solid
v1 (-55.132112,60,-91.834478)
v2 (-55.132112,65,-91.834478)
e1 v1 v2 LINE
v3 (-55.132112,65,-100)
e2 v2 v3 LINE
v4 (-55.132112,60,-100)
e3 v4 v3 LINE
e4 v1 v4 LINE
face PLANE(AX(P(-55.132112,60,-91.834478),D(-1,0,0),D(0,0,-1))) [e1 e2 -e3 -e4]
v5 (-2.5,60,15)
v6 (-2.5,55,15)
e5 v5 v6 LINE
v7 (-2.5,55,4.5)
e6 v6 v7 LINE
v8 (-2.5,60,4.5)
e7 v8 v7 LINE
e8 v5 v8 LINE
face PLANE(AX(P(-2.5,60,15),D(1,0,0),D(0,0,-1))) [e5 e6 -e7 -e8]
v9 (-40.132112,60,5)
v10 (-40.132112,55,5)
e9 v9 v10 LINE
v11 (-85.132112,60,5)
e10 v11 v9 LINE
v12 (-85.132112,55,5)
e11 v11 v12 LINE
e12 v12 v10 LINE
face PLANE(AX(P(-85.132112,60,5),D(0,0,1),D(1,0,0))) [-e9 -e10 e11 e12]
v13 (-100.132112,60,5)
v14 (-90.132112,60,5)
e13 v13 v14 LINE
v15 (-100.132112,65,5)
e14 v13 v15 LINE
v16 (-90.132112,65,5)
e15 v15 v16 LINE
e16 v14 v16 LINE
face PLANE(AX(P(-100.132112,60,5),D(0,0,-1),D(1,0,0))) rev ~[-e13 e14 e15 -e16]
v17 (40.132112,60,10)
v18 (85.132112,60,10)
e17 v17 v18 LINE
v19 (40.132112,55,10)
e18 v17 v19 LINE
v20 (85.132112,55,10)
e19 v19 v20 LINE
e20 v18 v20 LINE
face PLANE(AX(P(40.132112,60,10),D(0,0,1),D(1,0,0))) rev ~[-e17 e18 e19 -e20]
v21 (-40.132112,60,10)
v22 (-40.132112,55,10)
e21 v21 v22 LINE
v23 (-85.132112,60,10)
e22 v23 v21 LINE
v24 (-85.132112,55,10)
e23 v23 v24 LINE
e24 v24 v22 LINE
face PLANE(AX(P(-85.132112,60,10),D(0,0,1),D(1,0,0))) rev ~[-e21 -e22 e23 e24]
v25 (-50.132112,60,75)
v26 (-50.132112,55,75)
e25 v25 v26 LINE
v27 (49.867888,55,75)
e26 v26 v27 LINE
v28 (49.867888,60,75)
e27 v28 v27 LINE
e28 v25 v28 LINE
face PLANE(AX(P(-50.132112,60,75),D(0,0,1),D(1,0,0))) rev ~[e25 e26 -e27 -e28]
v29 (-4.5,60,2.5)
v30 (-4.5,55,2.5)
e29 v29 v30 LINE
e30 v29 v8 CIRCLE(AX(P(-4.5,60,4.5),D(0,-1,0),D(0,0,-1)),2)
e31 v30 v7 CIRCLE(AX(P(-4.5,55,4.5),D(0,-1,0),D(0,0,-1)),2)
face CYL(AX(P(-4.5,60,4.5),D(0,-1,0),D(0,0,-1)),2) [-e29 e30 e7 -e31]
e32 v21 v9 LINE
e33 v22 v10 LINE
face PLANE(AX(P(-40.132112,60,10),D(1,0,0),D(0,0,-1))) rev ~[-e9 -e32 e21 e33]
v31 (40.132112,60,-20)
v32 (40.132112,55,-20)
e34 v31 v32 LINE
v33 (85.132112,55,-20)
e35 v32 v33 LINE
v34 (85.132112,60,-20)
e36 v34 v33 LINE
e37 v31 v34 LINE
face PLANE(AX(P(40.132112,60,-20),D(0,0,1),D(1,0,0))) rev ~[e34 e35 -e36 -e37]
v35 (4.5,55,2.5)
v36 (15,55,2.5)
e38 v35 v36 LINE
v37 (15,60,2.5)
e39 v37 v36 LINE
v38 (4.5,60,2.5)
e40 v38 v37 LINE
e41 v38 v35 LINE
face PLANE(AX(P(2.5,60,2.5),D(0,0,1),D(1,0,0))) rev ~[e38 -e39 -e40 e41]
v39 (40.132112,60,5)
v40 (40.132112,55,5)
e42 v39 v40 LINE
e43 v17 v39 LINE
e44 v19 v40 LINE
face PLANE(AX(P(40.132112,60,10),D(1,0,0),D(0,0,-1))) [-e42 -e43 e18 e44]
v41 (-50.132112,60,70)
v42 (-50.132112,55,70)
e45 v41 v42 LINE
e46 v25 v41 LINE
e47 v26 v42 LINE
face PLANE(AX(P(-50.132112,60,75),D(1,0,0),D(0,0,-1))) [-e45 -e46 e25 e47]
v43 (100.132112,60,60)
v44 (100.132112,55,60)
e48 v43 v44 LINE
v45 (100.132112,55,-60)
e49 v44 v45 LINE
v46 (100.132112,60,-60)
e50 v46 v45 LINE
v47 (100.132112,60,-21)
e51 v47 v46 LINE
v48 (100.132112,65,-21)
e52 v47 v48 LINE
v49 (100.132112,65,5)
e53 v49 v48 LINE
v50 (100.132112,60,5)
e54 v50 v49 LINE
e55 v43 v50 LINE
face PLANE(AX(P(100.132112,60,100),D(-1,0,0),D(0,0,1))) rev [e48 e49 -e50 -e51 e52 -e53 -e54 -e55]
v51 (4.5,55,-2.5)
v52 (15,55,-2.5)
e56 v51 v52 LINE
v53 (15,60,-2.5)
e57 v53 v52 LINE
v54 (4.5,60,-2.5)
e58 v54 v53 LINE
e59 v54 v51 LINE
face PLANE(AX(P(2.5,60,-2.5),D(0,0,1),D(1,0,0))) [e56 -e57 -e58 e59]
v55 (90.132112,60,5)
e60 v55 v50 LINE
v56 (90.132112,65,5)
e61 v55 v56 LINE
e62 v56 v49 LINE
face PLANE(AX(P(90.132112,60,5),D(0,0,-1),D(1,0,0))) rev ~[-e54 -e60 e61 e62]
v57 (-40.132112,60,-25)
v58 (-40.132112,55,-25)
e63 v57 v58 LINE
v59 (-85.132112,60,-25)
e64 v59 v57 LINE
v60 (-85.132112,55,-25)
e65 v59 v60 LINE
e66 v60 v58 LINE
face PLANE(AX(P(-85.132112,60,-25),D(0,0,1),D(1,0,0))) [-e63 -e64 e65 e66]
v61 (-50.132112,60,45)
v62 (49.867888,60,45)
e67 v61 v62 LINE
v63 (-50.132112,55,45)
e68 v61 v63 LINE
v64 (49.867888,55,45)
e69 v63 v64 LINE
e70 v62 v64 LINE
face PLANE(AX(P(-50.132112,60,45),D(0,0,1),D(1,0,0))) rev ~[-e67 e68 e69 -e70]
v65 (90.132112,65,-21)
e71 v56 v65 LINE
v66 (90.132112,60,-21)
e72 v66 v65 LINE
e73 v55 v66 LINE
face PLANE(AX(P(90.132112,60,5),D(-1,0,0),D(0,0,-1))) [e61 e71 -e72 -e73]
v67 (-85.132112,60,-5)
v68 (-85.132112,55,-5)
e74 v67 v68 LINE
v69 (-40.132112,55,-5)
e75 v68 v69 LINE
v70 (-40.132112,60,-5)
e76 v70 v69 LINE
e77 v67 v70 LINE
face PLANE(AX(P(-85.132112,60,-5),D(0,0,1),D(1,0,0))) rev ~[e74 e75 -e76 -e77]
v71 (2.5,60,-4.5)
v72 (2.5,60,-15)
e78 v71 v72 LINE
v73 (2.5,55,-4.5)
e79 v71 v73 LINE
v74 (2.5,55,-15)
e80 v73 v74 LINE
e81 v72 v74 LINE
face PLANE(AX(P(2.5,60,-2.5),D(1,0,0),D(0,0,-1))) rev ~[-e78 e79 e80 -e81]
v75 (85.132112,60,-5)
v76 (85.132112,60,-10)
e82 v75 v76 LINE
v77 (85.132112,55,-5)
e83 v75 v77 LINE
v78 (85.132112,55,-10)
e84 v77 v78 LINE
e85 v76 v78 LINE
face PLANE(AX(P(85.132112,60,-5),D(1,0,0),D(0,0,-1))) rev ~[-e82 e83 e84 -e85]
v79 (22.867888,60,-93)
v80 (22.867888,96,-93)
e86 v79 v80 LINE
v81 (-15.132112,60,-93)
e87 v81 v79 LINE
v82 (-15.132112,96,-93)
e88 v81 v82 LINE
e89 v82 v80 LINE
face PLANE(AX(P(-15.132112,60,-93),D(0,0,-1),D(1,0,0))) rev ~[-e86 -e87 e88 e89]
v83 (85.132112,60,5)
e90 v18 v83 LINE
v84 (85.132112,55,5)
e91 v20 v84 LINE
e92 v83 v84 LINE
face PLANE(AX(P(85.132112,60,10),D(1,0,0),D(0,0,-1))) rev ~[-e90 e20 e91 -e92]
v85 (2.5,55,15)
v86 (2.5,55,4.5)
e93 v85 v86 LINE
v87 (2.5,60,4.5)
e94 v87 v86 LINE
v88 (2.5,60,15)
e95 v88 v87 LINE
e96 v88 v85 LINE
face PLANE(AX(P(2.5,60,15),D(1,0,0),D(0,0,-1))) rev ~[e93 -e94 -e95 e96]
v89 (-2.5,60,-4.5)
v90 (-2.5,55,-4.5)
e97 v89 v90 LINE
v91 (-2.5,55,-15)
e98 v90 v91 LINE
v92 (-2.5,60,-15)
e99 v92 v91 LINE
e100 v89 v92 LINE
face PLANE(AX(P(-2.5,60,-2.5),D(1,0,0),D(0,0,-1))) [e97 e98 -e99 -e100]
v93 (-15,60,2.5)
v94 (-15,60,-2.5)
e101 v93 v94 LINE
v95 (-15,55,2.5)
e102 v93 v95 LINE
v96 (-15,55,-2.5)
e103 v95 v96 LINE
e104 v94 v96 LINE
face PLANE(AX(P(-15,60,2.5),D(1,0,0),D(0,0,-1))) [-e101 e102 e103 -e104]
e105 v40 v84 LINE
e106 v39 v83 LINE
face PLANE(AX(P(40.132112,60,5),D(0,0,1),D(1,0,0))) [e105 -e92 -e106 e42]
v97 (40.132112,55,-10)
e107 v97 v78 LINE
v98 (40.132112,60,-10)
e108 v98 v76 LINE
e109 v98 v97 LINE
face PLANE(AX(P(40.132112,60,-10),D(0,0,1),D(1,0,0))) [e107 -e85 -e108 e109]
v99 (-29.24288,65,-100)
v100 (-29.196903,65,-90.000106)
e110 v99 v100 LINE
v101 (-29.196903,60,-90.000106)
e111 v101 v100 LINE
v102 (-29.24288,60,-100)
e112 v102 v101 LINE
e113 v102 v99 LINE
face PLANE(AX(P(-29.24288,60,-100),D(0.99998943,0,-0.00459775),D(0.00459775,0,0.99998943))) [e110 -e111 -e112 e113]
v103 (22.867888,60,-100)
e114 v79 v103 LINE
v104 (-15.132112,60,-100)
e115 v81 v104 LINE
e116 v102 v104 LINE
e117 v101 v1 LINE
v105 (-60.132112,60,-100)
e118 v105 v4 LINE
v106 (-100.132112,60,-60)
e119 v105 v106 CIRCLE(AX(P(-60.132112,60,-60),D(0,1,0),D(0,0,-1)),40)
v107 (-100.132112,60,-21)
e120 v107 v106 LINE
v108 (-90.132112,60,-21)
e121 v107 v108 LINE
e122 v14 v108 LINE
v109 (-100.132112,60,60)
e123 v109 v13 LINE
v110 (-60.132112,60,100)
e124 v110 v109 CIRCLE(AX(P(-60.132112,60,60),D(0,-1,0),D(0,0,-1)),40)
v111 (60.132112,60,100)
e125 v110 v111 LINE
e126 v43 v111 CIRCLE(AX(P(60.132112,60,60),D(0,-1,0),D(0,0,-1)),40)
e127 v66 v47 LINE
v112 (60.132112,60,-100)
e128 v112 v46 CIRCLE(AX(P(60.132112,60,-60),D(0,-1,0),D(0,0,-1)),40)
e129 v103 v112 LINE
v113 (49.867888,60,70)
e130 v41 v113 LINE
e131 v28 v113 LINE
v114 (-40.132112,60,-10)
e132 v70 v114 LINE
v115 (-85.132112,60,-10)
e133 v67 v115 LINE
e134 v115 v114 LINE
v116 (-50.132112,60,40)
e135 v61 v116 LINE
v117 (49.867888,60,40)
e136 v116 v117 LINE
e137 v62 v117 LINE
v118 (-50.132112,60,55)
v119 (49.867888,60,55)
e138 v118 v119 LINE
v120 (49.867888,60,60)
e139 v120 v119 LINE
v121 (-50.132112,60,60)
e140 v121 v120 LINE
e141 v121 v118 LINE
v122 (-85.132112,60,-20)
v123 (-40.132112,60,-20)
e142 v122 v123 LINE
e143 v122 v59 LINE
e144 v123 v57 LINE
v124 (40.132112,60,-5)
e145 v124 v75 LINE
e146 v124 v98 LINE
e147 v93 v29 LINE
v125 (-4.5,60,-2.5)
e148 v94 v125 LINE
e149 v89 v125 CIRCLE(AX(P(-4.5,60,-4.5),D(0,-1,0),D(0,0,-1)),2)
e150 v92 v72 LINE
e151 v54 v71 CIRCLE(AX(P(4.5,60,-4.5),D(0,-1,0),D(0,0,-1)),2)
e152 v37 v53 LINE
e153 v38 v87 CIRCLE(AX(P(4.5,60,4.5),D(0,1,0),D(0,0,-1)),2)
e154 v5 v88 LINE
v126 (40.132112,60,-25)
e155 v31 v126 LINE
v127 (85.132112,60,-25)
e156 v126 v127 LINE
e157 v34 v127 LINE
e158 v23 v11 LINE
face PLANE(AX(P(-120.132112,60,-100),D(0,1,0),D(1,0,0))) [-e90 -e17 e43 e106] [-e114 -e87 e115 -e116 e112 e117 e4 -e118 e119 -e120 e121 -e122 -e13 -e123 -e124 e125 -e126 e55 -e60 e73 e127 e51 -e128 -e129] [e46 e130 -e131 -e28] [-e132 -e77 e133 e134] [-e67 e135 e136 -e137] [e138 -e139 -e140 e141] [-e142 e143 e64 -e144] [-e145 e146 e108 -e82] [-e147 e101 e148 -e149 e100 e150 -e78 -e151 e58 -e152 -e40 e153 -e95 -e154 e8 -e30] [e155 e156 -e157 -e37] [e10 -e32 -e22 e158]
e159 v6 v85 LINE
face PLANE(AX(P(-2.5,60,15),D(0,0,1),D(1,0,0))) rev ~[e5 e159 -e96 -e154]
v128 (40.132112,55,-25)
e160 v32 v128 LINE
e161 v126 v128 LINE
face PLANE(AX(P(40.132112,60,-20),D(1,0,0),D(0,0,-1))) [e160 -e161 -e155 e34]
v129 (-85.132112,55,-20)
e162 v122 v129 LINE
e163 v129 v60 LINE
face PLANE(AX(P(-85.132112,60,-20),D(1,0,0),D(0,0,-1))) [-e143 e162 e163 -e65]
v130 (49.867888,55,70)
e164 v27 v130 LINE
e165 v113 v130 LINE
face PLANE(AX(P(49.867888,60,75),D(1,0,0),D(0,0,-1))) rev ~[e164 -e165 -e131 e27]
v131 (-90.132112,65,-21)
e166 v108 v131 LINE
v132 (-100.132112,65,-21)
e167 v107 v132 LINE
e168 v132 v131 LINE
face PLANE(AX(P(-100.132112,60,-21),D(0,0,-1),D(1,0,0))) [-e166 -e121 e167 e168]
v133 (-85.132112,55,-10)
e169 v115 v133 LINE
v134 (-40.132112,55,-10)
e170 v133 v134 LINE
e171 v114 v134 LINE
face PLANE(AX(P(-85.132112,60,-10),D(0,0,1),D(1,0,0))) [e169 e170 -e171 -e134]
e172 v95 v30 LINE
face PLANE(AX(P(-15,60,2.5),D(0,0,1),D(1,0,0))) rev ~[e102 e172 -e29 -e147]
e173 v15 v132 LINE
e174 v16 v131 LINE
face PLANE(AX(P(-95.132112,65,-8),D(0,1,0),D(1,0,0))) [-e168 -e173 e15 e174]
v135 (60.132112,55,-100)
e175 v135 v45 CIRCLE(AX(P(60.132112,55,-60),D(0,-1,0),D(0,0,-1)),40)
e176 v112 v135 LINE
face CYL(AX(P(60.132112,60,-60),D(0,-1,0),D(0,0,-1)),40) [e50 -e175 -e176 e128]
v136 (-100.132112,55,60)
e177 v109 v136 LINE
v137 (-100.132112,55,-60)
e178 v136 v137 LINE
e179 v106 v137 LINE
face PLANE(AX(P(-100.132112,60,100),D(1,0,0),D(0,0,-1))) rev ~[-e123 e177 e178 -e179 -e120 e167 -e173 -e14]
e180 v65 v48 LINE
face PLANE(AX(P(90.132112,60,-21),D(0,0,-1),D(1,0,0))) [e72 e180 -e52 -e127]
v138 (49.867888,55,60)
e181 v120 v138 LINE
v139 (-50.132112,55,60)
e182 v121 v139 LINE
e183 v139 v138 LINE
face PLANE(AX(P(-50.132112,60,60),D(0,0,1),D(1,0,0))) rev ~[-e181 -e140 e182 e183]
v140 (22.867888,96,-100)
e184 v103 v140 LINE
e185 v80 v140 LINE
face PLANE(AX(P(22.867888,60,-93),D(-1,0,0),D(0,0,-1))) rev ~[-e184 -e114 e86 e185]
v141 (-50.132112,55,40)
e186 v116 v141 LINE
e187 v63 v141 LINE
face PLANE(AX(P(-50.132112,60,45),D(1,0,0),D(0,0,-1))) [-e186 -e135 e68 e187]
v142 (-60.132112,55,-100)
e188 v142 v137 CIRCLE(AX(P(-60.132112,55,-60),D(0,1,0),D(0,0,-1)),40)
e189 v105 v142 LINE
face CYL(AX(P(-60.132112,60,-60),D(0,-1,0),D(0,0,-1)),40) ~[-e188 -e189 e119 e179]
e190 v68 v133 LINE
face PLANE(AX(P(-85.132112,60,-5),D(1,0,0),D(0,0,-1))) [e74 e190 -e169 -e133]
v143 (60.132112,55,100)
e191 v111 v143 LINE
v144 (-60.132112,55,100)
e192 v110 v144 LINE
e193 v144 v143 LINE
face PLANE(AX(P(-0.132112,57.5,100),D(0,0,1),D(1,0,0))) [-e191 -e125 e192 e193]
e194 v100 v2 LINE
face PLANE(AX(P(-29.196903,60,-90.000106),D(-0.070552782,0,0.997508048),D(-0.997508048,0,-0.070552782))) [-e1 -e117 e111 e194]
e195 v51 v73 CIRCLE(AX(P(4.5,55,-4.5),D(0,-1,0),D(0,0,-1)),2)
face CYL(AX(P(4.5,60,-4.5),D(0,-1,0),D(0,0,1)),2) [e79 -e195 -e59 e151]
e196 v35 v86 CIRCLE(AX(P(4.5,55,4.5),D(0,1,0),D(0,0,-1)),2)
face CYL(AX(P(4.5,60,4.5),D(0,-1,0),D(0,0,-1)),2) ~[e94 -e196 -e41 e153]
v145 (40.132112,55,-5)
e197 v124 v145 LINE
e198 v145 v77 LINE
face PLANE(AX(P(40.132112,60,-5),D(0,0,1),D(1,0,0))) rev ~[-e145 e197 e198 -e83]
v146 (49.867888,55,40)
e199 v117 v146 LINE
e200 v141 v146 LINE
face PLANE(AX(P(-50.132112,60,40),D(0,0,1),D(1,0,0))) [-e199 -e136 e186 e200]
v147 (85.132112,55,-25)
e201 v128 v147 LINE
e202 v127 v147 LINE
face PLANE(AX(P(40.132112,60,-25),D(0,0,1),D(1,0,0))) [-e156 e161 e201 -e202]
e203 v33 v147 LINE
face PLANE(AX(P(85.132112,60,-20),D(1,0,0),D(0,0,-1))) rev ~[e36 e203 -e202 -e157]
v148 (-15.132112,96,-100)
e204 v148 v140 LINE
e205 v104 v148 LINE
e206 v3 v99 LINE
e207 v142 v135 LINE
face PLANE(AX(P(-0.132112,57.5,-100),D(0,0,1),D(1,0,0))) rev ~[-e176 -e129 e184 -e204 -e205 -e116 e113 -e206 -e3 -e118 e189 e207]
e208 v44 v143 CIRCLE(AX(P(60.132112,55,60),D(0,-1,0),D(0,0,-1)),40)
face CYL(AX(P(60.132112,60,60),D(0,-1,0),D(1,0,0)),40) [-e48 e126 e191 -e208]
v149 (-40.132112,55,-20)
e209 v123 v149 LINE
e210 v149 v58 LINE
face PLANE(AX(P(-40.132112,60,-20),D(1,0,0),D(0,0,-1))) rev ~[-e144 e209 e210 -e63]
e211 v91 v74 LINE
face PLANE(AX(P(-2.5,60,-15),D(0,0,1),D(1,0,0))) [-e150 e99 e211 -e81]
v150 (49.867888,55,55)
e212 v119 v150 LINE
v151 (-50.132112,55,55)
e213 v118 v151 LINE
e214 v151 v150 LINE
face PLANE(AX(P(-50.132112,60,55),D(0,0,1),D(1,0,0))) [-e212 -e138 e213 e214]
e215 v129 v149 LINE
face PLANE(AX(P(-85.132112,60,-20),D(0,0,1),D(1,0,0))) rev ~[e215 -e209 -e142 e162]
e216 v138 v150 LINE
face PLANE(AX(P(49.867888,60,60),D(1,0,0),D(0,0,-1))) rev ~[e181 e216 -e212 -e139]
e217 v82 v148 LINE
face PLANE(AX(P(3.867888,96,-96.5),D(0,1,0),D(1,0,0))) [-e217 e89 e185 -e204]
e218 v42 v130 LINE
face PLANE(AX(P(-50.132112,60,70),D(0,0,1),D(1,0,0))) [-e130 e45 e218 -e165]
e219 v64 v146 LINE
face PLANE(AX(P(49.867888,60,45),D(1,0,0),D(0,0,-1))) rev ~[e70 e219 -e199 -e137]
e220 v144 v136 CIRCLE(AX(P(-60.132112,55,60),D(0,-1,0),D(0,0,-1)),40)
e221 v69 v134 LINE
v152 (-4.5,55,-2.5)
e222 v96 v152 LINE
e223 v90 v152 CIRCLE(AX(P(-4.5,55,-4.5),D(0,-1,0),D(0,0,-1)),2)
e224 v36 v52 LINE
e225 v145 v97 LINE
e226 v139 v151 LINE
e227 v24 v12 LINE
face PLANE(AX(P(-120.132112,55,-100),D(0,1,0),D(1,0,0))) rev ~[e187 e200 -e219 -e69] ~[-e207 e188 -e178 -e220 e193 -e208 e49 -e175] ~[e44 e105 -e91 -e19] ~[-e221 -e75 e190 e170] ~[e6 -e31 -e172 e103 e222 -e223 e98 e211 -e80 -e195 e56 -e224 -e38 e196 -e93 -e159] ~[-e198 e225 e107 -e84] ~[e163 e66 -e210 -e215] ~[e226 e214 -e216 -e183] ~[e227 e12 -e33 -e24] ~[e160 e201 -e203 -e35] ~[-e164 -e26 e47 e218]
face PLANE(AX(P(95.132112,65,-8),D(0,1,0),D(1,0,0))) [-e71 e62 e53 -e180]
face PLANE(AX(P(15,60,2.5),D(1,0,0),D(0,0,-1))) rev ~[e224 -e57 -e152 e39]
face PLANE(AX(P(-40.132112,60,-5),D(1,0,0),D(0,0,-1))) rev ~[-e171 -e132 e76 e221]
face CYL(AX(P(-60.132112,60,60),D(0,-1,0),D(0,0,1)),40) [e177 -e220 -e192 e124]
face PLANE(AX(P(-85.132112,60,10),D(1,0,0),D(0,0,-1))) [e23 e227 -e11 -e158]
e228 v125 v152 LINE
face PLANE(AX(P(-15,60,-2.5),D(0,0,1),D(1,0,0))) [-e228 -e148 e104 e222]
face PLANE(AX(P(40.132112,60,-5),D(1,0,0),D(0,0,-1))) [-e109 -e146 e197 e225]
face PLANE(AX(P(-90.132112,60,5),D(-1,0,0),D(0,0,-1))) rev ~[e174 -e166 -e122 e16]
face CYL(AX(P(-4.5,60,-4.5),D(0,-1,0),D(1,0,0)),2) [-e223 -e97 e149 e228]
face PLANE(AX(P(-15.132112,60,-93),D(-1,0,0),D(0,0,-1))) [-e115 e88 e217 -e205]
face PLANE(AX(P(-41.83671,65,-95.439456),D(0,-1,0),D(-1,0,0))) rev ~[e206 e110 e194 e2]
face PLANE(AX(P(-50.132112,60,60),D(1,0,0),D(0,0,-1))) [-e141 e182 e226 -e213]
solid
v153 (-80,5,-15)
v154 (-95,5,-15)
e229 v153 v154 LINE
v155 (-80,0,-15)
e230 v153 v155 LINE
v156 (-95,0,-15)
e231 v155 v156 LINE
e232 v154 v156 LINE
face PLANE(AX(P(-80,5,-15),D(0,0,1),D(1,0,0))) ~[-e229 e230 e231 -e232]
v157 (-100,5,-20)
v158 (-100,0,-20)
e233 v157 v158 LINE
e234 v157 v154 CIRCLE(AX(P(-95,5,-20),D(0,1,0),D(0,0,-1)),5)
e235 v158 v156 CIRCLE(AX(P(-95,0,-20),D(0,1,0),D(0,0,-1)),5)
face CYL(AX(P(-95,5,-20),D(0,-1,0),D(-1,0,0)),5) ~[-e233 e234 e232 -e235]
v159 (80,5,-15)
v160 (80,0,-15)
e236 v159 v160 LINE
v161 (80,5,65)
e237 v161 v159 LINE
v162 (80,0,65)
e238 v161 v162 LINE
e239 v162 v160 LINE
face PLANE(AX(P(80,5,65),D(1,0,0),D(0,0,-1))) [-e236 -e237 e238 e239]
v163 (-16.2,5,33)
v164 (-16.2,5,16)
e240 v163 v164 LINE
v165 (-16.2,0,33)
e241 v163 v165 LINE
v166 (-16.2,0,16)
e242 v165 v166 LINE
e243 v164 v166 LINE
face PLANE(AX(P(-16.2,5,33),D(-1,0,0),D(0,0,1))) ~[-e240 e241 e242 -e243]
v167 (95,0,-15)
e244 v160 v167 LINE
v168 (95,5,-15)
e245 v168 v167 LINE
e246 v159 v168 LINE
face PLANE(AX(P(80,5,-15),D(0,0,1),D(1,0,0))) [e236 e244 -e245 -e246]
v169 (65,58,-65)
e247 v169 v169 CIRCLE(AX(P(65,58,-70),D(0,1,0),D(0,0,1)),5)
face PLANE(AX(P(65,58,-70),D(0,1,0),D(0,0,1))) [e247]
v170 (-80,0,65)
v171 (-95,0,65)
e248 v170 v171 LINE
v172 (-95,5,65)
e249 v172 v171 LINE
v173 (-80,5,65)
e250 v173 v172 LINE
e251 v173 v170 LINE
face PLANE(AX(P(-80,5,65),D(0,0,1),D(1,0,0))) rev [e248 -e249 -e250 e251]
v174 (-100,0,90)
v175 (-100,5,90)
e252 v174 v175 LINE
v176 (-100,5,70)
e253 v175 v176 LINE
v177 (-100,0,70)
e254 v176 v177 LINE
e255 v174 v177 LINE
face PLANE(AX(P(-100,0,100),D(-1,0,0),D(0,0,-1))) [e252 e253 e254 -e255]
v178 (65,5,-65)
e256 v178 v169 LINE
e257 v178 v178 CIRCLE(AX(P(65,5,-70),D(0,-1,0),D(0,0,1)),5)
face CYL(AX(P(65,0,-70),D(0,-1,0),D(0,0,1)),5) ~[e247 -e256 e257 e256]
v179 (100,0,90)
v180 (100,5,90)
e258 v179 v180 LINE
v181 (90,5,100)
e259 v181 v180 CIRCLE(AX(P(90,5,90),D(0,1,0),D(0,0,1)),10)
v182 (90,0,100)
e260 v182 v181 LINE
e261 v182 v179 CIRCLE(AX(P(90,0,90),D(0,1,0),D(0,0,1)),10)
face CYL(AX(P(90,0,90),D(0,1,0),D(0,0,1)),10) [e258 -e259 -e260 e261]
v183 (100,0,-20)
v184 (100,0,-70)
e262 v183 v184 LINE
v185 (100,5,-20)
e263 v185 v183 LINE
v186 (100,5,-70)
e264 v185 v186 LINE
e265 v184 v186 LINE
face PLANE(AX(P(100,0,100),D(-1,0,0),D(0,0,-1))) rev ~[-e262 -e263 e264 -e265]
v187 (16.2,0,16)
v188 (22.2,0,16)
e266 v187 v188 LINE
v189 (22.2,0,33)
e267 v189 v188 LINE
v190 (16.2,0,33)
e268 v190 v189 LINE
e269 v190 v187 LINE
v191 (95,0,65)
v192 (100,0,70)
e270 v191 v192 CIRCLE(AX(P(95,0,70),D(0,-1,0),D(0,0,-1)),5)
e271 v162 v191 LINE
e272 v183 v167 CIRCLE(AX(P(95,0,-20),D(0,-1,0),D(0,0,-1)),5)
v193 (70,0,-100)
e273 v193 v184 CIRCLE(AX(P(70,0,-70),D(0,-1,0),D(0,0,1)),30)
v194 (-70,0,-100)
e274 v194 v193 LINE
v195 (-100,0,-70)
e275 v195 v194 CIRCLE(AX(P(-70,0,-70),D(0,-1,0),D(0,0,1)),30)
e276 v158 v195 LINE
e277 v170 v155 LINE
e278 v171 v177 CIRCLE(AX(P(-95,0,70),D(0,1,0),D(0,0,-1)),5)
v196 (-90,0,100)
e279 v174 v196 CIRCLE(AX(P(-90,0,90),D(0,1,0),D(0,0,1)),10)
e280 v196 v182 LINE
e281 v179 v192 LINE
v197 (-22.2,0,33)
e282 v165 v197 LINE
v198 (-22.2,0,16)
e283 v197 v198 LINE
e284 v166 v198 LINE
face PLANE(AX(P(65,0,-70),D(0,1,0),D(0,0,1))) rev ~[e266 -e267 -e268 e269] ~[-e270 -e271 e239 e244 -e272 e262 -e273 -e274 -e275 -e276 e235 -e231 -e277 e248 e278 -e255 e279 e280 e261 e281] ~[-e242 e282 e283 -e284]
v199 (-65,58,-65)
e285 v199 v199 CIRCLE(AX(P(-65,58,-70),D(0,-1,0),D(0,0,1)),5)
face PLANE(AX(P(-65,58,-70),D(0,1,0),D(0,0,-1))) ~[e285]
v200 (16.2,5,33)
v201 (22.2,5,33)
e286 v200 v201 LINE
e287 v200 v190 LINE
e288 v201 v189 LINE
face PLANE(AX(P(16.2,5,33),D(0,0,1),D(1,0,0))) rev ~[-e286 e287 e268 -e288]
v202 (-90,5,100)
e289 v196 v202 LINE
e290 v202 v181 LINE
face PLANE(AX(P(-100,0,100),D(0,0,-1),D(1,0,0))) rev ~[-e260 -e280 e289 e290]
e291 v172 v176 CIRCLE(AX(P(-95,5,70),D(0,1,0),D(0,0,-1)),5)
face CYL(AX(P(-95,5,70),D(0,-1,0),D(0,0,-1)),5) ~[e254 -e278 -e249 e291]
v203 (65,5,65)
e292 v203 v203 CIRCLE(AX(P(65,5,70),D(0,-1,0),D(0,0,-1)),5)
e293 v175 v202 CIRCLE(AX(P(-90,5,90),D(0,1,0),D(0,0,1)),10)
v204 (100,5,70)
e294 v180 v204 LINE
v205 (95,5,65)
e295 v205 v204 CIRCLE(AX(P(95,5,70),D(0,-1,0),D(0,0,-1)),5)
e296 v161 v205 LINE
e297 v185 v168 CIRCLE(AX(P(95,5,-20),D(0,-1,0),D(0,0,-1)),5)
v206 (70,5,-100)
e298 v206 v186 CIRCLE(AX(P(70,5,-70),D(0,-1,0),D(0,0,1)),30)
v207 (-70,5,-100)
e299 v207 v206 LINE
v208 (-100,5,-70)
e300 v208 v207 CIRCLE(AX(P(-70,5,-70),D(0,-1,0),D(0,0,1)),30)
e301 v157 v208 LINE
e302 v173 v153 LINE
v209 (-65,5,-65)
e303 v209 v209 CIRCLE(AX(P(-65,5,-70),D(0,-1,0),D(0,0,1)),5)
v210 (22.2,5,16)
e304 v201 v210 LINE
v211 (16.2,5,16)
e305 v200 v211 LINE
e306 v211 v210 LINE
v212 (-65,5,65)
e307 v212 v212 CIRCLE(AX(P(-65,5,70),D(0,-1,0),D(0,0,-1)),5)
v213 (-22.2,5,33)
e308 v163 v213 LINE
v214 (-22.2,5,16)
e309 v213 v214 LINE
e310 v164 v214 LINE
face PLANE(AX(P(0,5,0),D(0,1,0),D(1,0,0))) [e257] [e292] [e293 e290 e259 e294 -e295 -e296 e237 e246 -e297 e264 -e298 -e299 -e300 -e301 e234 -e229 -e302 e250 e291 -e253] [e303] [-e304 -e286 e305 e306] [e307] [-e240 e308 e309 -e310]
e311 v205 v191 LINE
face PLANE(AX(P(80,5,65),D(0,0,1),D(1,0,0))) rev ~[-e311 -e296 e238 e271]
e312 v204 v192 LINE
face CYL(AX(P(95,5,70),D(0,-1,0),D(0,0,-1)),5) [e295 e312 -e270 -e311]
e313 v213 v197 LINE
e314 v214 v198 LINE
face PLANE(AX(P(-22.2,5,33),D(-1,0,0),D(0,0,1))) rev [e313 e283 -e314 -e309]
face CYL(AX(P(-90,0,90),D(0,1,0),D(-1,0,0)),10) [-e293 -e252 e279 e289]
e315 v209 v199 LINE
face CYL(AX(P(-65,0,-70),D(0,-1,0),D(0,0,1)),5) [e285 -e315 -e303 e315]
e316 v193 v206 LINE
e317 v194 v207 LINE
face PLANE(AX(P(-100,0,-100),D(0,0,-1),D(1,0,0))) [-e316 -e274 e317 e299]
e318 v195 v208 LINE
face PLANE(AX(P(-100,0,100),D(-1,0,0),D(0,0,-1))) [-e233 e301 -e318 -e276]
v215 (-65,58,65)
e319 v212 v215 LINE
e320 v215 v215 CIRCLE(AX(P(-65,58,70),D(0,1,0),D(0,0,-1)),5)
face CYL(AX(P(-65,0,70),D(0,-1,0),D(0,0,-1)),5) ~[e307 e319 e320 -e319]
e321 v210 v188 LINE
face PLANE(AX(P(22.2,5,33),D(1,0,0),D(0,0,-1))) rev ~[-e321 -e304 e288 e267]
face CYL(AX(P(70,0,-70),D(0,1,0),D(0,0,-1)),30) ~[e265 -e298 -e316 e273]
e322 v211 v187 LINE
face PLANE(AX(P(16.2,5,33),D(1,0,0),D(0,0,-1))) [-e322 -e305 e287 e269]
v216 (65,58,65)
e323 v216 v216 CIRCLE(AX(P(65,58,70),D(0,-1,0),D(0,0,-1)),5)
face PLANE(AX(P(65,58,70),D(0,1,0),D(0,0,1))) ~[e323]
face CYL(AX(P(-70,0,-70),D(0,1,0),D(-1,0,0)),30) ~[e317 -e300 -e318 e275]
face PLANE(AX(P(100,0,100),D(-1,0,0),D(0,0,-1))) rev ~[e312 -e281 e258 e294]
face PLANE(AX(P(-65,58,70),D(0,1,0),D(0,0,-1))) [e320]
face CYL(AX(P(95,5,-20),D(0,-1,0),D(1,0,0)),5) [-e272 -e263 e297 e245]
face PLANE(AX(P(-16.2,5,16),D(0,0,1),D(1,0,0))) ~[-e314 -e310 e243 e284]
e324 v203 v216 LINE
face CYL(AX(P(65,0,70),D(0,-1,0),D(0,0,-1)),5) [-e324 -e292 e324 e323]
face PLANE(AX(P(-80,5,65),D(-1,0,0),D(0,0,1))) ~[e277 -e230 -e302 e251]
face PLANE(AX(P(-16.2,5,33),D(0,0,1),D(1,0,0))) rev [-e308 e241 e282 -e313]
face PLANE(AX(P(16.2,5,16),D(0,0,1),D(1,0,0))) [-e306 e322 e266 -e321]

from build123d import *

# Parameters (mm, degrees)
SKETCH1_W                = 200
SKETCH1_H                = 200
BOSS_EXTRUDE1_DEPTH      = 5
FILLET1_R                = 10
FILLET3_R                = 30
SKETCH5_W                = 20
SKETCH5_H                = 80
CUT_EXTRUDE2_DEPTH       = 142.509716981
BOSS_EXTRUDE3_DEPTH      = 100
BOSS_EXTRUDE3_DEPTH_BACK = 100
SKETCH8_W                = 240
SKETCH8_H                = 5
SKETCH9_R                = 5
BOSS_EXTRUDE4_DEPTH      = 58
MIRROR6_COPY_1_SKETCH_R  = 5
MIRROR6_COPY_1_DEPTH     = 58
FILLET4_R                = 5
SKETCH11_W               = 12.5
SKETCH11_H               = 5
SKETCH11_W_2             = 5
SKETCH11_H_2             = 12.5
CUT_EXTRUDE4_DEPTH       = 5
FILLET6_R                = 2
SKETCH15_W               = 100
SKETCH15_H               = 5
SKETCH15_W_2             = 45
CUT_EXTRUDE6_DEPTH       = 5
SKETCH18_W               = 20
SKETCH18_H               = 200
CUT_EXTRUDE7_DEPTH       = 5
FILLET7_R                = 40
SKETCH22_W               = 6
SKETCH22_H               = 17
CUT_EXTRUDE10_DEPTH      = 5
SKETCH26_W               = 10
SKETCH26_H               = 26
BOSS_EXTRUDE6_DEPTH      = 5
SKETCH27_W               = 38
SKETCH27_H               = 7
BOSS_EXTRUDE7_DEPTH      = 36


with BuildPart() as part:
    # Sketch1 → Boss-Extrude1 (new body)
    with BuildSketch(Plane(origin=(0, 0, 0), x_dir=(1, 0, 0), z_dir=(0, 1, 0))):
        Rectangle(SKETCH1_W, SKETCH1_H)
    extrude(amount=BOSS_EXTRUDE1_DEPTH)

    # Fillet1
    fillet1_edges = [part.edges().sort_by_distance(p)[0] for p in [
        (100, 2.5, 100),
        (-100, 2.5, 100),
    ]]
    fillet(fillet1_edges, radius=FILLET1_R)

    # Fillet3
    fillet3_edges = [part.edges().sort_by_distance(p)[0] for p in [
        (-100, 2.5, -100),
        (100, 2.5, -100),
    ]]
    fillet(fillet3_edges, radius=FILLET3_R)

    # Sketch5 → Cut-Extrude2 (cut, through all)
    with BuildSketch(Plane(origin=(0, 5, 0), x_dir=(1, 0, 0), z_dir=(0, 1, 0))):
        with Locations((90, -25)):
            Rectangle(SKETCH5_W, SKETCH5_H)
    cut_extrude2 = extrude(amount=-CUT_EXTRUDE2_DEPTH, mode=Mode.SUBTRACT)

    # Mirror1: Cut-Extrude2 across plane
    add(cut_extrude2.mirror(Plane(origin=(0, 0, 0), x_dir=(0, 0, 1), z_dir=(1, 0, 0))), mode=Mode.SUBTRACT)

    # Sketch9 → Boss-Extrude4 (add)
    with BuildSketch(Plane(origin=(0, 0, 0), x_dir=(1, 0, 0), z_dir=(0, 1, 0))):
        with Locations(Location((-65, -70, 0), (0, 0, 90))):
            Circle(SKETCH9_R)
    boss_extrude4 = extrude(amount=BOSS_EXTRUDE4_DEPTH)

    # Mirror5: Boss-Extrude4 across plane
    add(boss_extrude4.mirror(Plane(origin=(0, 0, 0), x_dir=(0, 0, 1), z_dir=(1, 0, 0))))

    # Mirror6: Boss-Extrude4 across plane
    add(boss_extrude4.mirror(Plane.XY))

    # Mirror6 copy 1 sketch → Mirror6 copy 1 (add)
    with BuildSketch(Plane(origin=(0, 0, 0), x_dir=(-1, 0, 0), z_dir=(0, 1, 0))):
        with Locations(Location((-65, -70, 0), (0, 0, 90))):
            Circle(MIRROR6_COPY_1_SKETCH_R)
    extrude(amount=MIRROR6_COPY_1_DEPTH)

    # Fillet4
    fillet4_edges = [part.edges().sort_by_distance(p)[0] for p in [
        (100, 2.5, -15),
        (100, 2.5, 65),
        (-100, 2.5, 65),
        (-100, 2.5, -15),
    ]]
    fillet(fillet4_edges, radius=FILLET4_R)

    # Sketch22 → Cut-Extrude10 (cut)
    with BuildSketch(Plane(origin=(0, 5, 0), x_dir=(1, 0, 0), z_dir=(0, 1, 0))):
        with Locations((19.2, -24.5)):
            Rectangle(SKETCH22_W, SKETCH22_H)
    cut_extrude10 = extrude(amount=-CUT_EXTRUDE10_DEPTH, mode=Mode.SUBTRACT)

    # Mirror8: Cut-Extrude10 across plane
    add(cut_extrude10.mirror(Plane(origin=(0, 0, 0), x_dir=(0, 0, 1), z_dir=(1, 0, 0))), mode=Mode.SUBTRACT)


with BuildPart() as body_2:
    # Sketch8 → Boss-Extrude3 (new, two sides: drawn at the far end of the back side and taken through both)
    with BuildSketch(Plane.XY.offset(-BOSS_EXTRUDE3_DEPTH_BACK)):
        with Locations((-0.132111847, 57.5)):
            Rectangle(SKETCH8_W, SKETCH8_H)
    extrude(amount=BOSS_EXTRUDE3_DEPTH + BOSS_EXTRUDE3_DEPTH_BACK)

    # Sketch11 → Cut-Extrude4 (cut)
    with BuildSketch(Plane(origin=(0, 60, 0), x_dir=(1, 0, 0), z_dir=(0, 1, 0))):
        with Locations((8.75, 0)):
            Rectangle(SKETCH11_W, SKETCH11_H)
        with Locations((0, -8.75)):
            Rectangle(SKETCH11_W_2, SKETCH11_H_2)
        with Locations((-8.75, 0)):
            Rectangle(SKETCH11_W, SKETCH11_H)
        with Locations((0, 8.75)):
            Rectangle(SKETCH11_W_2, SKETCH11_H_2)
        Rectangle(SKETCH11_W_2, SKETCH11_H)
    extrude(amount=-CUT_EXTRUDE4_DEPTH, mode=Mode.SUBTRACT)

    # Fillet6
    fillet6_edges = [body_2.edges().sort_by_distance(p)[0] for p in [
        (2.5, 57.5, 2.5),
        (-2.5, 57.5, 2.5),
        (-2.5, 57.5, -2.5),
        (2.5, 57.5, -2.5),
    ]]
    fillet(fillet6_edges, radius=FILLET6_R)

    # Sketch15 → Cut-Extrude6 (cut)
    with BuildSketch(Plane(origin=(0, 60, 0), x_dir=(1, 0, 0), z_dir=(0, 1, 0))):
        with Locations((-0.132111847, -42.5)):
            Rectangle(SKETCH15_W, SKETCH15_H)
        with Locations((-0.132111847, -57.5)):
            Rectangle(SKETCH15_W, SKETCH15_H)
        with Locations((-0.132111847, -72.5)):
            Rectangle(SKETCH15_W, SKETCH15_H)
        with Locations((-62.632111847, -7.5)):
            Rectangle(SKETCH15_W_2, SKETCH15_H)
        with Locations((-62.632111847, 7.5)):
            Rectangle(SKETCH15_W_2, SKETCH15_H)
        with Locations((-62.632111847, 22.5)):
            Rectangle(SKETCH15_W_2, SKETCH15_H)
        with Locations((62.632111847, -7.5)):
            Rectangle(SKETCH15_W_2, SKETCH15_H)
        with Locations((62.632111847, 7.5)):
            Rectangle(SKETCH15_W_2, SKETCH15_H)
        with Locations((62.632111847, 22.5)):
            Rectangle(SKETCH15_W_2, SKETCH15_H)
    extrude(amount=-CUT_EXTRUDE6_DEPTH, mode=Mode.SUBTRACT)

    # Sketch18 → Cut-Extrude7 (cut)
    with BuildSketch(Plane(origin=(0, 60, 0), x_dir=(1, 0, 0), z_dir=(0, 1, 0))):
        with Locations((-110.132111847, 0)):
            Rectangle(SKETCH18_W, SKETCH18_H)
    cut_extrude7 = extrude(amount=-CUT_EXTRUDE7_DEPTH, mode=Mode.SUBTRACT)

    # Mirror7: Cut-Extrude7 across plane
    add(cut_extrude7.mirror(Plane(origin=(0, 0, 0), x_dir=(0, 0, 1), z_dir=(1, 0, 0))), mode=Mode.SUBTRACT)

    # Fillet7
    fillet7_edges = [body_2.edges().sort_by_distance(p)[0] for p in [
        (-100.132111847, 57.5, -100),
        (-100.132111847, 57.5, 100),
        (100.132111847, 57.5, 100),
        (100.132111847, 57.5, -100),
    ]]
    fillet(fillet7_edges, radius=FILLET7_R)

    # Sketch26 → Boss-Extrude6 (add)
    with BuildSketch(Plane(origin=(0, 60, 0), x_dir=(1, 0, 0), z_dir=(0, 1, 0))):
        with Locations((95.132111847, 8)):
            Rectangle(SKETCH26_W, SKETCH26_H)
        with Locations((-95.132111847, 8)):
            Rectangle(SKETCH26_W, SKETCH26_H)
        Polygon((-55.132111847, 91.834478025), (-55.132111847, 100), (-29.242880108, 100), (-29.19690261, 90.000105697), align=None)
    extrude(amount=BOSS_EXTRUDE6_DEPTH)

    # Sketch27 → Boss-Extrude7 (add)
    with BuildSketch(Plane(origin=(0, 60, 0), x_dir=(1, 0, 0), z_dir=(0, 1, 0))):
        with Locations((3.867888153, 96.5)):
            Rectangle(SKETCH27_W, SKETCH27_H)
    extrude(amount=BOSS_EXTRUDE7_DEPTH)


solid = Compound([part.part, body_2.part])
